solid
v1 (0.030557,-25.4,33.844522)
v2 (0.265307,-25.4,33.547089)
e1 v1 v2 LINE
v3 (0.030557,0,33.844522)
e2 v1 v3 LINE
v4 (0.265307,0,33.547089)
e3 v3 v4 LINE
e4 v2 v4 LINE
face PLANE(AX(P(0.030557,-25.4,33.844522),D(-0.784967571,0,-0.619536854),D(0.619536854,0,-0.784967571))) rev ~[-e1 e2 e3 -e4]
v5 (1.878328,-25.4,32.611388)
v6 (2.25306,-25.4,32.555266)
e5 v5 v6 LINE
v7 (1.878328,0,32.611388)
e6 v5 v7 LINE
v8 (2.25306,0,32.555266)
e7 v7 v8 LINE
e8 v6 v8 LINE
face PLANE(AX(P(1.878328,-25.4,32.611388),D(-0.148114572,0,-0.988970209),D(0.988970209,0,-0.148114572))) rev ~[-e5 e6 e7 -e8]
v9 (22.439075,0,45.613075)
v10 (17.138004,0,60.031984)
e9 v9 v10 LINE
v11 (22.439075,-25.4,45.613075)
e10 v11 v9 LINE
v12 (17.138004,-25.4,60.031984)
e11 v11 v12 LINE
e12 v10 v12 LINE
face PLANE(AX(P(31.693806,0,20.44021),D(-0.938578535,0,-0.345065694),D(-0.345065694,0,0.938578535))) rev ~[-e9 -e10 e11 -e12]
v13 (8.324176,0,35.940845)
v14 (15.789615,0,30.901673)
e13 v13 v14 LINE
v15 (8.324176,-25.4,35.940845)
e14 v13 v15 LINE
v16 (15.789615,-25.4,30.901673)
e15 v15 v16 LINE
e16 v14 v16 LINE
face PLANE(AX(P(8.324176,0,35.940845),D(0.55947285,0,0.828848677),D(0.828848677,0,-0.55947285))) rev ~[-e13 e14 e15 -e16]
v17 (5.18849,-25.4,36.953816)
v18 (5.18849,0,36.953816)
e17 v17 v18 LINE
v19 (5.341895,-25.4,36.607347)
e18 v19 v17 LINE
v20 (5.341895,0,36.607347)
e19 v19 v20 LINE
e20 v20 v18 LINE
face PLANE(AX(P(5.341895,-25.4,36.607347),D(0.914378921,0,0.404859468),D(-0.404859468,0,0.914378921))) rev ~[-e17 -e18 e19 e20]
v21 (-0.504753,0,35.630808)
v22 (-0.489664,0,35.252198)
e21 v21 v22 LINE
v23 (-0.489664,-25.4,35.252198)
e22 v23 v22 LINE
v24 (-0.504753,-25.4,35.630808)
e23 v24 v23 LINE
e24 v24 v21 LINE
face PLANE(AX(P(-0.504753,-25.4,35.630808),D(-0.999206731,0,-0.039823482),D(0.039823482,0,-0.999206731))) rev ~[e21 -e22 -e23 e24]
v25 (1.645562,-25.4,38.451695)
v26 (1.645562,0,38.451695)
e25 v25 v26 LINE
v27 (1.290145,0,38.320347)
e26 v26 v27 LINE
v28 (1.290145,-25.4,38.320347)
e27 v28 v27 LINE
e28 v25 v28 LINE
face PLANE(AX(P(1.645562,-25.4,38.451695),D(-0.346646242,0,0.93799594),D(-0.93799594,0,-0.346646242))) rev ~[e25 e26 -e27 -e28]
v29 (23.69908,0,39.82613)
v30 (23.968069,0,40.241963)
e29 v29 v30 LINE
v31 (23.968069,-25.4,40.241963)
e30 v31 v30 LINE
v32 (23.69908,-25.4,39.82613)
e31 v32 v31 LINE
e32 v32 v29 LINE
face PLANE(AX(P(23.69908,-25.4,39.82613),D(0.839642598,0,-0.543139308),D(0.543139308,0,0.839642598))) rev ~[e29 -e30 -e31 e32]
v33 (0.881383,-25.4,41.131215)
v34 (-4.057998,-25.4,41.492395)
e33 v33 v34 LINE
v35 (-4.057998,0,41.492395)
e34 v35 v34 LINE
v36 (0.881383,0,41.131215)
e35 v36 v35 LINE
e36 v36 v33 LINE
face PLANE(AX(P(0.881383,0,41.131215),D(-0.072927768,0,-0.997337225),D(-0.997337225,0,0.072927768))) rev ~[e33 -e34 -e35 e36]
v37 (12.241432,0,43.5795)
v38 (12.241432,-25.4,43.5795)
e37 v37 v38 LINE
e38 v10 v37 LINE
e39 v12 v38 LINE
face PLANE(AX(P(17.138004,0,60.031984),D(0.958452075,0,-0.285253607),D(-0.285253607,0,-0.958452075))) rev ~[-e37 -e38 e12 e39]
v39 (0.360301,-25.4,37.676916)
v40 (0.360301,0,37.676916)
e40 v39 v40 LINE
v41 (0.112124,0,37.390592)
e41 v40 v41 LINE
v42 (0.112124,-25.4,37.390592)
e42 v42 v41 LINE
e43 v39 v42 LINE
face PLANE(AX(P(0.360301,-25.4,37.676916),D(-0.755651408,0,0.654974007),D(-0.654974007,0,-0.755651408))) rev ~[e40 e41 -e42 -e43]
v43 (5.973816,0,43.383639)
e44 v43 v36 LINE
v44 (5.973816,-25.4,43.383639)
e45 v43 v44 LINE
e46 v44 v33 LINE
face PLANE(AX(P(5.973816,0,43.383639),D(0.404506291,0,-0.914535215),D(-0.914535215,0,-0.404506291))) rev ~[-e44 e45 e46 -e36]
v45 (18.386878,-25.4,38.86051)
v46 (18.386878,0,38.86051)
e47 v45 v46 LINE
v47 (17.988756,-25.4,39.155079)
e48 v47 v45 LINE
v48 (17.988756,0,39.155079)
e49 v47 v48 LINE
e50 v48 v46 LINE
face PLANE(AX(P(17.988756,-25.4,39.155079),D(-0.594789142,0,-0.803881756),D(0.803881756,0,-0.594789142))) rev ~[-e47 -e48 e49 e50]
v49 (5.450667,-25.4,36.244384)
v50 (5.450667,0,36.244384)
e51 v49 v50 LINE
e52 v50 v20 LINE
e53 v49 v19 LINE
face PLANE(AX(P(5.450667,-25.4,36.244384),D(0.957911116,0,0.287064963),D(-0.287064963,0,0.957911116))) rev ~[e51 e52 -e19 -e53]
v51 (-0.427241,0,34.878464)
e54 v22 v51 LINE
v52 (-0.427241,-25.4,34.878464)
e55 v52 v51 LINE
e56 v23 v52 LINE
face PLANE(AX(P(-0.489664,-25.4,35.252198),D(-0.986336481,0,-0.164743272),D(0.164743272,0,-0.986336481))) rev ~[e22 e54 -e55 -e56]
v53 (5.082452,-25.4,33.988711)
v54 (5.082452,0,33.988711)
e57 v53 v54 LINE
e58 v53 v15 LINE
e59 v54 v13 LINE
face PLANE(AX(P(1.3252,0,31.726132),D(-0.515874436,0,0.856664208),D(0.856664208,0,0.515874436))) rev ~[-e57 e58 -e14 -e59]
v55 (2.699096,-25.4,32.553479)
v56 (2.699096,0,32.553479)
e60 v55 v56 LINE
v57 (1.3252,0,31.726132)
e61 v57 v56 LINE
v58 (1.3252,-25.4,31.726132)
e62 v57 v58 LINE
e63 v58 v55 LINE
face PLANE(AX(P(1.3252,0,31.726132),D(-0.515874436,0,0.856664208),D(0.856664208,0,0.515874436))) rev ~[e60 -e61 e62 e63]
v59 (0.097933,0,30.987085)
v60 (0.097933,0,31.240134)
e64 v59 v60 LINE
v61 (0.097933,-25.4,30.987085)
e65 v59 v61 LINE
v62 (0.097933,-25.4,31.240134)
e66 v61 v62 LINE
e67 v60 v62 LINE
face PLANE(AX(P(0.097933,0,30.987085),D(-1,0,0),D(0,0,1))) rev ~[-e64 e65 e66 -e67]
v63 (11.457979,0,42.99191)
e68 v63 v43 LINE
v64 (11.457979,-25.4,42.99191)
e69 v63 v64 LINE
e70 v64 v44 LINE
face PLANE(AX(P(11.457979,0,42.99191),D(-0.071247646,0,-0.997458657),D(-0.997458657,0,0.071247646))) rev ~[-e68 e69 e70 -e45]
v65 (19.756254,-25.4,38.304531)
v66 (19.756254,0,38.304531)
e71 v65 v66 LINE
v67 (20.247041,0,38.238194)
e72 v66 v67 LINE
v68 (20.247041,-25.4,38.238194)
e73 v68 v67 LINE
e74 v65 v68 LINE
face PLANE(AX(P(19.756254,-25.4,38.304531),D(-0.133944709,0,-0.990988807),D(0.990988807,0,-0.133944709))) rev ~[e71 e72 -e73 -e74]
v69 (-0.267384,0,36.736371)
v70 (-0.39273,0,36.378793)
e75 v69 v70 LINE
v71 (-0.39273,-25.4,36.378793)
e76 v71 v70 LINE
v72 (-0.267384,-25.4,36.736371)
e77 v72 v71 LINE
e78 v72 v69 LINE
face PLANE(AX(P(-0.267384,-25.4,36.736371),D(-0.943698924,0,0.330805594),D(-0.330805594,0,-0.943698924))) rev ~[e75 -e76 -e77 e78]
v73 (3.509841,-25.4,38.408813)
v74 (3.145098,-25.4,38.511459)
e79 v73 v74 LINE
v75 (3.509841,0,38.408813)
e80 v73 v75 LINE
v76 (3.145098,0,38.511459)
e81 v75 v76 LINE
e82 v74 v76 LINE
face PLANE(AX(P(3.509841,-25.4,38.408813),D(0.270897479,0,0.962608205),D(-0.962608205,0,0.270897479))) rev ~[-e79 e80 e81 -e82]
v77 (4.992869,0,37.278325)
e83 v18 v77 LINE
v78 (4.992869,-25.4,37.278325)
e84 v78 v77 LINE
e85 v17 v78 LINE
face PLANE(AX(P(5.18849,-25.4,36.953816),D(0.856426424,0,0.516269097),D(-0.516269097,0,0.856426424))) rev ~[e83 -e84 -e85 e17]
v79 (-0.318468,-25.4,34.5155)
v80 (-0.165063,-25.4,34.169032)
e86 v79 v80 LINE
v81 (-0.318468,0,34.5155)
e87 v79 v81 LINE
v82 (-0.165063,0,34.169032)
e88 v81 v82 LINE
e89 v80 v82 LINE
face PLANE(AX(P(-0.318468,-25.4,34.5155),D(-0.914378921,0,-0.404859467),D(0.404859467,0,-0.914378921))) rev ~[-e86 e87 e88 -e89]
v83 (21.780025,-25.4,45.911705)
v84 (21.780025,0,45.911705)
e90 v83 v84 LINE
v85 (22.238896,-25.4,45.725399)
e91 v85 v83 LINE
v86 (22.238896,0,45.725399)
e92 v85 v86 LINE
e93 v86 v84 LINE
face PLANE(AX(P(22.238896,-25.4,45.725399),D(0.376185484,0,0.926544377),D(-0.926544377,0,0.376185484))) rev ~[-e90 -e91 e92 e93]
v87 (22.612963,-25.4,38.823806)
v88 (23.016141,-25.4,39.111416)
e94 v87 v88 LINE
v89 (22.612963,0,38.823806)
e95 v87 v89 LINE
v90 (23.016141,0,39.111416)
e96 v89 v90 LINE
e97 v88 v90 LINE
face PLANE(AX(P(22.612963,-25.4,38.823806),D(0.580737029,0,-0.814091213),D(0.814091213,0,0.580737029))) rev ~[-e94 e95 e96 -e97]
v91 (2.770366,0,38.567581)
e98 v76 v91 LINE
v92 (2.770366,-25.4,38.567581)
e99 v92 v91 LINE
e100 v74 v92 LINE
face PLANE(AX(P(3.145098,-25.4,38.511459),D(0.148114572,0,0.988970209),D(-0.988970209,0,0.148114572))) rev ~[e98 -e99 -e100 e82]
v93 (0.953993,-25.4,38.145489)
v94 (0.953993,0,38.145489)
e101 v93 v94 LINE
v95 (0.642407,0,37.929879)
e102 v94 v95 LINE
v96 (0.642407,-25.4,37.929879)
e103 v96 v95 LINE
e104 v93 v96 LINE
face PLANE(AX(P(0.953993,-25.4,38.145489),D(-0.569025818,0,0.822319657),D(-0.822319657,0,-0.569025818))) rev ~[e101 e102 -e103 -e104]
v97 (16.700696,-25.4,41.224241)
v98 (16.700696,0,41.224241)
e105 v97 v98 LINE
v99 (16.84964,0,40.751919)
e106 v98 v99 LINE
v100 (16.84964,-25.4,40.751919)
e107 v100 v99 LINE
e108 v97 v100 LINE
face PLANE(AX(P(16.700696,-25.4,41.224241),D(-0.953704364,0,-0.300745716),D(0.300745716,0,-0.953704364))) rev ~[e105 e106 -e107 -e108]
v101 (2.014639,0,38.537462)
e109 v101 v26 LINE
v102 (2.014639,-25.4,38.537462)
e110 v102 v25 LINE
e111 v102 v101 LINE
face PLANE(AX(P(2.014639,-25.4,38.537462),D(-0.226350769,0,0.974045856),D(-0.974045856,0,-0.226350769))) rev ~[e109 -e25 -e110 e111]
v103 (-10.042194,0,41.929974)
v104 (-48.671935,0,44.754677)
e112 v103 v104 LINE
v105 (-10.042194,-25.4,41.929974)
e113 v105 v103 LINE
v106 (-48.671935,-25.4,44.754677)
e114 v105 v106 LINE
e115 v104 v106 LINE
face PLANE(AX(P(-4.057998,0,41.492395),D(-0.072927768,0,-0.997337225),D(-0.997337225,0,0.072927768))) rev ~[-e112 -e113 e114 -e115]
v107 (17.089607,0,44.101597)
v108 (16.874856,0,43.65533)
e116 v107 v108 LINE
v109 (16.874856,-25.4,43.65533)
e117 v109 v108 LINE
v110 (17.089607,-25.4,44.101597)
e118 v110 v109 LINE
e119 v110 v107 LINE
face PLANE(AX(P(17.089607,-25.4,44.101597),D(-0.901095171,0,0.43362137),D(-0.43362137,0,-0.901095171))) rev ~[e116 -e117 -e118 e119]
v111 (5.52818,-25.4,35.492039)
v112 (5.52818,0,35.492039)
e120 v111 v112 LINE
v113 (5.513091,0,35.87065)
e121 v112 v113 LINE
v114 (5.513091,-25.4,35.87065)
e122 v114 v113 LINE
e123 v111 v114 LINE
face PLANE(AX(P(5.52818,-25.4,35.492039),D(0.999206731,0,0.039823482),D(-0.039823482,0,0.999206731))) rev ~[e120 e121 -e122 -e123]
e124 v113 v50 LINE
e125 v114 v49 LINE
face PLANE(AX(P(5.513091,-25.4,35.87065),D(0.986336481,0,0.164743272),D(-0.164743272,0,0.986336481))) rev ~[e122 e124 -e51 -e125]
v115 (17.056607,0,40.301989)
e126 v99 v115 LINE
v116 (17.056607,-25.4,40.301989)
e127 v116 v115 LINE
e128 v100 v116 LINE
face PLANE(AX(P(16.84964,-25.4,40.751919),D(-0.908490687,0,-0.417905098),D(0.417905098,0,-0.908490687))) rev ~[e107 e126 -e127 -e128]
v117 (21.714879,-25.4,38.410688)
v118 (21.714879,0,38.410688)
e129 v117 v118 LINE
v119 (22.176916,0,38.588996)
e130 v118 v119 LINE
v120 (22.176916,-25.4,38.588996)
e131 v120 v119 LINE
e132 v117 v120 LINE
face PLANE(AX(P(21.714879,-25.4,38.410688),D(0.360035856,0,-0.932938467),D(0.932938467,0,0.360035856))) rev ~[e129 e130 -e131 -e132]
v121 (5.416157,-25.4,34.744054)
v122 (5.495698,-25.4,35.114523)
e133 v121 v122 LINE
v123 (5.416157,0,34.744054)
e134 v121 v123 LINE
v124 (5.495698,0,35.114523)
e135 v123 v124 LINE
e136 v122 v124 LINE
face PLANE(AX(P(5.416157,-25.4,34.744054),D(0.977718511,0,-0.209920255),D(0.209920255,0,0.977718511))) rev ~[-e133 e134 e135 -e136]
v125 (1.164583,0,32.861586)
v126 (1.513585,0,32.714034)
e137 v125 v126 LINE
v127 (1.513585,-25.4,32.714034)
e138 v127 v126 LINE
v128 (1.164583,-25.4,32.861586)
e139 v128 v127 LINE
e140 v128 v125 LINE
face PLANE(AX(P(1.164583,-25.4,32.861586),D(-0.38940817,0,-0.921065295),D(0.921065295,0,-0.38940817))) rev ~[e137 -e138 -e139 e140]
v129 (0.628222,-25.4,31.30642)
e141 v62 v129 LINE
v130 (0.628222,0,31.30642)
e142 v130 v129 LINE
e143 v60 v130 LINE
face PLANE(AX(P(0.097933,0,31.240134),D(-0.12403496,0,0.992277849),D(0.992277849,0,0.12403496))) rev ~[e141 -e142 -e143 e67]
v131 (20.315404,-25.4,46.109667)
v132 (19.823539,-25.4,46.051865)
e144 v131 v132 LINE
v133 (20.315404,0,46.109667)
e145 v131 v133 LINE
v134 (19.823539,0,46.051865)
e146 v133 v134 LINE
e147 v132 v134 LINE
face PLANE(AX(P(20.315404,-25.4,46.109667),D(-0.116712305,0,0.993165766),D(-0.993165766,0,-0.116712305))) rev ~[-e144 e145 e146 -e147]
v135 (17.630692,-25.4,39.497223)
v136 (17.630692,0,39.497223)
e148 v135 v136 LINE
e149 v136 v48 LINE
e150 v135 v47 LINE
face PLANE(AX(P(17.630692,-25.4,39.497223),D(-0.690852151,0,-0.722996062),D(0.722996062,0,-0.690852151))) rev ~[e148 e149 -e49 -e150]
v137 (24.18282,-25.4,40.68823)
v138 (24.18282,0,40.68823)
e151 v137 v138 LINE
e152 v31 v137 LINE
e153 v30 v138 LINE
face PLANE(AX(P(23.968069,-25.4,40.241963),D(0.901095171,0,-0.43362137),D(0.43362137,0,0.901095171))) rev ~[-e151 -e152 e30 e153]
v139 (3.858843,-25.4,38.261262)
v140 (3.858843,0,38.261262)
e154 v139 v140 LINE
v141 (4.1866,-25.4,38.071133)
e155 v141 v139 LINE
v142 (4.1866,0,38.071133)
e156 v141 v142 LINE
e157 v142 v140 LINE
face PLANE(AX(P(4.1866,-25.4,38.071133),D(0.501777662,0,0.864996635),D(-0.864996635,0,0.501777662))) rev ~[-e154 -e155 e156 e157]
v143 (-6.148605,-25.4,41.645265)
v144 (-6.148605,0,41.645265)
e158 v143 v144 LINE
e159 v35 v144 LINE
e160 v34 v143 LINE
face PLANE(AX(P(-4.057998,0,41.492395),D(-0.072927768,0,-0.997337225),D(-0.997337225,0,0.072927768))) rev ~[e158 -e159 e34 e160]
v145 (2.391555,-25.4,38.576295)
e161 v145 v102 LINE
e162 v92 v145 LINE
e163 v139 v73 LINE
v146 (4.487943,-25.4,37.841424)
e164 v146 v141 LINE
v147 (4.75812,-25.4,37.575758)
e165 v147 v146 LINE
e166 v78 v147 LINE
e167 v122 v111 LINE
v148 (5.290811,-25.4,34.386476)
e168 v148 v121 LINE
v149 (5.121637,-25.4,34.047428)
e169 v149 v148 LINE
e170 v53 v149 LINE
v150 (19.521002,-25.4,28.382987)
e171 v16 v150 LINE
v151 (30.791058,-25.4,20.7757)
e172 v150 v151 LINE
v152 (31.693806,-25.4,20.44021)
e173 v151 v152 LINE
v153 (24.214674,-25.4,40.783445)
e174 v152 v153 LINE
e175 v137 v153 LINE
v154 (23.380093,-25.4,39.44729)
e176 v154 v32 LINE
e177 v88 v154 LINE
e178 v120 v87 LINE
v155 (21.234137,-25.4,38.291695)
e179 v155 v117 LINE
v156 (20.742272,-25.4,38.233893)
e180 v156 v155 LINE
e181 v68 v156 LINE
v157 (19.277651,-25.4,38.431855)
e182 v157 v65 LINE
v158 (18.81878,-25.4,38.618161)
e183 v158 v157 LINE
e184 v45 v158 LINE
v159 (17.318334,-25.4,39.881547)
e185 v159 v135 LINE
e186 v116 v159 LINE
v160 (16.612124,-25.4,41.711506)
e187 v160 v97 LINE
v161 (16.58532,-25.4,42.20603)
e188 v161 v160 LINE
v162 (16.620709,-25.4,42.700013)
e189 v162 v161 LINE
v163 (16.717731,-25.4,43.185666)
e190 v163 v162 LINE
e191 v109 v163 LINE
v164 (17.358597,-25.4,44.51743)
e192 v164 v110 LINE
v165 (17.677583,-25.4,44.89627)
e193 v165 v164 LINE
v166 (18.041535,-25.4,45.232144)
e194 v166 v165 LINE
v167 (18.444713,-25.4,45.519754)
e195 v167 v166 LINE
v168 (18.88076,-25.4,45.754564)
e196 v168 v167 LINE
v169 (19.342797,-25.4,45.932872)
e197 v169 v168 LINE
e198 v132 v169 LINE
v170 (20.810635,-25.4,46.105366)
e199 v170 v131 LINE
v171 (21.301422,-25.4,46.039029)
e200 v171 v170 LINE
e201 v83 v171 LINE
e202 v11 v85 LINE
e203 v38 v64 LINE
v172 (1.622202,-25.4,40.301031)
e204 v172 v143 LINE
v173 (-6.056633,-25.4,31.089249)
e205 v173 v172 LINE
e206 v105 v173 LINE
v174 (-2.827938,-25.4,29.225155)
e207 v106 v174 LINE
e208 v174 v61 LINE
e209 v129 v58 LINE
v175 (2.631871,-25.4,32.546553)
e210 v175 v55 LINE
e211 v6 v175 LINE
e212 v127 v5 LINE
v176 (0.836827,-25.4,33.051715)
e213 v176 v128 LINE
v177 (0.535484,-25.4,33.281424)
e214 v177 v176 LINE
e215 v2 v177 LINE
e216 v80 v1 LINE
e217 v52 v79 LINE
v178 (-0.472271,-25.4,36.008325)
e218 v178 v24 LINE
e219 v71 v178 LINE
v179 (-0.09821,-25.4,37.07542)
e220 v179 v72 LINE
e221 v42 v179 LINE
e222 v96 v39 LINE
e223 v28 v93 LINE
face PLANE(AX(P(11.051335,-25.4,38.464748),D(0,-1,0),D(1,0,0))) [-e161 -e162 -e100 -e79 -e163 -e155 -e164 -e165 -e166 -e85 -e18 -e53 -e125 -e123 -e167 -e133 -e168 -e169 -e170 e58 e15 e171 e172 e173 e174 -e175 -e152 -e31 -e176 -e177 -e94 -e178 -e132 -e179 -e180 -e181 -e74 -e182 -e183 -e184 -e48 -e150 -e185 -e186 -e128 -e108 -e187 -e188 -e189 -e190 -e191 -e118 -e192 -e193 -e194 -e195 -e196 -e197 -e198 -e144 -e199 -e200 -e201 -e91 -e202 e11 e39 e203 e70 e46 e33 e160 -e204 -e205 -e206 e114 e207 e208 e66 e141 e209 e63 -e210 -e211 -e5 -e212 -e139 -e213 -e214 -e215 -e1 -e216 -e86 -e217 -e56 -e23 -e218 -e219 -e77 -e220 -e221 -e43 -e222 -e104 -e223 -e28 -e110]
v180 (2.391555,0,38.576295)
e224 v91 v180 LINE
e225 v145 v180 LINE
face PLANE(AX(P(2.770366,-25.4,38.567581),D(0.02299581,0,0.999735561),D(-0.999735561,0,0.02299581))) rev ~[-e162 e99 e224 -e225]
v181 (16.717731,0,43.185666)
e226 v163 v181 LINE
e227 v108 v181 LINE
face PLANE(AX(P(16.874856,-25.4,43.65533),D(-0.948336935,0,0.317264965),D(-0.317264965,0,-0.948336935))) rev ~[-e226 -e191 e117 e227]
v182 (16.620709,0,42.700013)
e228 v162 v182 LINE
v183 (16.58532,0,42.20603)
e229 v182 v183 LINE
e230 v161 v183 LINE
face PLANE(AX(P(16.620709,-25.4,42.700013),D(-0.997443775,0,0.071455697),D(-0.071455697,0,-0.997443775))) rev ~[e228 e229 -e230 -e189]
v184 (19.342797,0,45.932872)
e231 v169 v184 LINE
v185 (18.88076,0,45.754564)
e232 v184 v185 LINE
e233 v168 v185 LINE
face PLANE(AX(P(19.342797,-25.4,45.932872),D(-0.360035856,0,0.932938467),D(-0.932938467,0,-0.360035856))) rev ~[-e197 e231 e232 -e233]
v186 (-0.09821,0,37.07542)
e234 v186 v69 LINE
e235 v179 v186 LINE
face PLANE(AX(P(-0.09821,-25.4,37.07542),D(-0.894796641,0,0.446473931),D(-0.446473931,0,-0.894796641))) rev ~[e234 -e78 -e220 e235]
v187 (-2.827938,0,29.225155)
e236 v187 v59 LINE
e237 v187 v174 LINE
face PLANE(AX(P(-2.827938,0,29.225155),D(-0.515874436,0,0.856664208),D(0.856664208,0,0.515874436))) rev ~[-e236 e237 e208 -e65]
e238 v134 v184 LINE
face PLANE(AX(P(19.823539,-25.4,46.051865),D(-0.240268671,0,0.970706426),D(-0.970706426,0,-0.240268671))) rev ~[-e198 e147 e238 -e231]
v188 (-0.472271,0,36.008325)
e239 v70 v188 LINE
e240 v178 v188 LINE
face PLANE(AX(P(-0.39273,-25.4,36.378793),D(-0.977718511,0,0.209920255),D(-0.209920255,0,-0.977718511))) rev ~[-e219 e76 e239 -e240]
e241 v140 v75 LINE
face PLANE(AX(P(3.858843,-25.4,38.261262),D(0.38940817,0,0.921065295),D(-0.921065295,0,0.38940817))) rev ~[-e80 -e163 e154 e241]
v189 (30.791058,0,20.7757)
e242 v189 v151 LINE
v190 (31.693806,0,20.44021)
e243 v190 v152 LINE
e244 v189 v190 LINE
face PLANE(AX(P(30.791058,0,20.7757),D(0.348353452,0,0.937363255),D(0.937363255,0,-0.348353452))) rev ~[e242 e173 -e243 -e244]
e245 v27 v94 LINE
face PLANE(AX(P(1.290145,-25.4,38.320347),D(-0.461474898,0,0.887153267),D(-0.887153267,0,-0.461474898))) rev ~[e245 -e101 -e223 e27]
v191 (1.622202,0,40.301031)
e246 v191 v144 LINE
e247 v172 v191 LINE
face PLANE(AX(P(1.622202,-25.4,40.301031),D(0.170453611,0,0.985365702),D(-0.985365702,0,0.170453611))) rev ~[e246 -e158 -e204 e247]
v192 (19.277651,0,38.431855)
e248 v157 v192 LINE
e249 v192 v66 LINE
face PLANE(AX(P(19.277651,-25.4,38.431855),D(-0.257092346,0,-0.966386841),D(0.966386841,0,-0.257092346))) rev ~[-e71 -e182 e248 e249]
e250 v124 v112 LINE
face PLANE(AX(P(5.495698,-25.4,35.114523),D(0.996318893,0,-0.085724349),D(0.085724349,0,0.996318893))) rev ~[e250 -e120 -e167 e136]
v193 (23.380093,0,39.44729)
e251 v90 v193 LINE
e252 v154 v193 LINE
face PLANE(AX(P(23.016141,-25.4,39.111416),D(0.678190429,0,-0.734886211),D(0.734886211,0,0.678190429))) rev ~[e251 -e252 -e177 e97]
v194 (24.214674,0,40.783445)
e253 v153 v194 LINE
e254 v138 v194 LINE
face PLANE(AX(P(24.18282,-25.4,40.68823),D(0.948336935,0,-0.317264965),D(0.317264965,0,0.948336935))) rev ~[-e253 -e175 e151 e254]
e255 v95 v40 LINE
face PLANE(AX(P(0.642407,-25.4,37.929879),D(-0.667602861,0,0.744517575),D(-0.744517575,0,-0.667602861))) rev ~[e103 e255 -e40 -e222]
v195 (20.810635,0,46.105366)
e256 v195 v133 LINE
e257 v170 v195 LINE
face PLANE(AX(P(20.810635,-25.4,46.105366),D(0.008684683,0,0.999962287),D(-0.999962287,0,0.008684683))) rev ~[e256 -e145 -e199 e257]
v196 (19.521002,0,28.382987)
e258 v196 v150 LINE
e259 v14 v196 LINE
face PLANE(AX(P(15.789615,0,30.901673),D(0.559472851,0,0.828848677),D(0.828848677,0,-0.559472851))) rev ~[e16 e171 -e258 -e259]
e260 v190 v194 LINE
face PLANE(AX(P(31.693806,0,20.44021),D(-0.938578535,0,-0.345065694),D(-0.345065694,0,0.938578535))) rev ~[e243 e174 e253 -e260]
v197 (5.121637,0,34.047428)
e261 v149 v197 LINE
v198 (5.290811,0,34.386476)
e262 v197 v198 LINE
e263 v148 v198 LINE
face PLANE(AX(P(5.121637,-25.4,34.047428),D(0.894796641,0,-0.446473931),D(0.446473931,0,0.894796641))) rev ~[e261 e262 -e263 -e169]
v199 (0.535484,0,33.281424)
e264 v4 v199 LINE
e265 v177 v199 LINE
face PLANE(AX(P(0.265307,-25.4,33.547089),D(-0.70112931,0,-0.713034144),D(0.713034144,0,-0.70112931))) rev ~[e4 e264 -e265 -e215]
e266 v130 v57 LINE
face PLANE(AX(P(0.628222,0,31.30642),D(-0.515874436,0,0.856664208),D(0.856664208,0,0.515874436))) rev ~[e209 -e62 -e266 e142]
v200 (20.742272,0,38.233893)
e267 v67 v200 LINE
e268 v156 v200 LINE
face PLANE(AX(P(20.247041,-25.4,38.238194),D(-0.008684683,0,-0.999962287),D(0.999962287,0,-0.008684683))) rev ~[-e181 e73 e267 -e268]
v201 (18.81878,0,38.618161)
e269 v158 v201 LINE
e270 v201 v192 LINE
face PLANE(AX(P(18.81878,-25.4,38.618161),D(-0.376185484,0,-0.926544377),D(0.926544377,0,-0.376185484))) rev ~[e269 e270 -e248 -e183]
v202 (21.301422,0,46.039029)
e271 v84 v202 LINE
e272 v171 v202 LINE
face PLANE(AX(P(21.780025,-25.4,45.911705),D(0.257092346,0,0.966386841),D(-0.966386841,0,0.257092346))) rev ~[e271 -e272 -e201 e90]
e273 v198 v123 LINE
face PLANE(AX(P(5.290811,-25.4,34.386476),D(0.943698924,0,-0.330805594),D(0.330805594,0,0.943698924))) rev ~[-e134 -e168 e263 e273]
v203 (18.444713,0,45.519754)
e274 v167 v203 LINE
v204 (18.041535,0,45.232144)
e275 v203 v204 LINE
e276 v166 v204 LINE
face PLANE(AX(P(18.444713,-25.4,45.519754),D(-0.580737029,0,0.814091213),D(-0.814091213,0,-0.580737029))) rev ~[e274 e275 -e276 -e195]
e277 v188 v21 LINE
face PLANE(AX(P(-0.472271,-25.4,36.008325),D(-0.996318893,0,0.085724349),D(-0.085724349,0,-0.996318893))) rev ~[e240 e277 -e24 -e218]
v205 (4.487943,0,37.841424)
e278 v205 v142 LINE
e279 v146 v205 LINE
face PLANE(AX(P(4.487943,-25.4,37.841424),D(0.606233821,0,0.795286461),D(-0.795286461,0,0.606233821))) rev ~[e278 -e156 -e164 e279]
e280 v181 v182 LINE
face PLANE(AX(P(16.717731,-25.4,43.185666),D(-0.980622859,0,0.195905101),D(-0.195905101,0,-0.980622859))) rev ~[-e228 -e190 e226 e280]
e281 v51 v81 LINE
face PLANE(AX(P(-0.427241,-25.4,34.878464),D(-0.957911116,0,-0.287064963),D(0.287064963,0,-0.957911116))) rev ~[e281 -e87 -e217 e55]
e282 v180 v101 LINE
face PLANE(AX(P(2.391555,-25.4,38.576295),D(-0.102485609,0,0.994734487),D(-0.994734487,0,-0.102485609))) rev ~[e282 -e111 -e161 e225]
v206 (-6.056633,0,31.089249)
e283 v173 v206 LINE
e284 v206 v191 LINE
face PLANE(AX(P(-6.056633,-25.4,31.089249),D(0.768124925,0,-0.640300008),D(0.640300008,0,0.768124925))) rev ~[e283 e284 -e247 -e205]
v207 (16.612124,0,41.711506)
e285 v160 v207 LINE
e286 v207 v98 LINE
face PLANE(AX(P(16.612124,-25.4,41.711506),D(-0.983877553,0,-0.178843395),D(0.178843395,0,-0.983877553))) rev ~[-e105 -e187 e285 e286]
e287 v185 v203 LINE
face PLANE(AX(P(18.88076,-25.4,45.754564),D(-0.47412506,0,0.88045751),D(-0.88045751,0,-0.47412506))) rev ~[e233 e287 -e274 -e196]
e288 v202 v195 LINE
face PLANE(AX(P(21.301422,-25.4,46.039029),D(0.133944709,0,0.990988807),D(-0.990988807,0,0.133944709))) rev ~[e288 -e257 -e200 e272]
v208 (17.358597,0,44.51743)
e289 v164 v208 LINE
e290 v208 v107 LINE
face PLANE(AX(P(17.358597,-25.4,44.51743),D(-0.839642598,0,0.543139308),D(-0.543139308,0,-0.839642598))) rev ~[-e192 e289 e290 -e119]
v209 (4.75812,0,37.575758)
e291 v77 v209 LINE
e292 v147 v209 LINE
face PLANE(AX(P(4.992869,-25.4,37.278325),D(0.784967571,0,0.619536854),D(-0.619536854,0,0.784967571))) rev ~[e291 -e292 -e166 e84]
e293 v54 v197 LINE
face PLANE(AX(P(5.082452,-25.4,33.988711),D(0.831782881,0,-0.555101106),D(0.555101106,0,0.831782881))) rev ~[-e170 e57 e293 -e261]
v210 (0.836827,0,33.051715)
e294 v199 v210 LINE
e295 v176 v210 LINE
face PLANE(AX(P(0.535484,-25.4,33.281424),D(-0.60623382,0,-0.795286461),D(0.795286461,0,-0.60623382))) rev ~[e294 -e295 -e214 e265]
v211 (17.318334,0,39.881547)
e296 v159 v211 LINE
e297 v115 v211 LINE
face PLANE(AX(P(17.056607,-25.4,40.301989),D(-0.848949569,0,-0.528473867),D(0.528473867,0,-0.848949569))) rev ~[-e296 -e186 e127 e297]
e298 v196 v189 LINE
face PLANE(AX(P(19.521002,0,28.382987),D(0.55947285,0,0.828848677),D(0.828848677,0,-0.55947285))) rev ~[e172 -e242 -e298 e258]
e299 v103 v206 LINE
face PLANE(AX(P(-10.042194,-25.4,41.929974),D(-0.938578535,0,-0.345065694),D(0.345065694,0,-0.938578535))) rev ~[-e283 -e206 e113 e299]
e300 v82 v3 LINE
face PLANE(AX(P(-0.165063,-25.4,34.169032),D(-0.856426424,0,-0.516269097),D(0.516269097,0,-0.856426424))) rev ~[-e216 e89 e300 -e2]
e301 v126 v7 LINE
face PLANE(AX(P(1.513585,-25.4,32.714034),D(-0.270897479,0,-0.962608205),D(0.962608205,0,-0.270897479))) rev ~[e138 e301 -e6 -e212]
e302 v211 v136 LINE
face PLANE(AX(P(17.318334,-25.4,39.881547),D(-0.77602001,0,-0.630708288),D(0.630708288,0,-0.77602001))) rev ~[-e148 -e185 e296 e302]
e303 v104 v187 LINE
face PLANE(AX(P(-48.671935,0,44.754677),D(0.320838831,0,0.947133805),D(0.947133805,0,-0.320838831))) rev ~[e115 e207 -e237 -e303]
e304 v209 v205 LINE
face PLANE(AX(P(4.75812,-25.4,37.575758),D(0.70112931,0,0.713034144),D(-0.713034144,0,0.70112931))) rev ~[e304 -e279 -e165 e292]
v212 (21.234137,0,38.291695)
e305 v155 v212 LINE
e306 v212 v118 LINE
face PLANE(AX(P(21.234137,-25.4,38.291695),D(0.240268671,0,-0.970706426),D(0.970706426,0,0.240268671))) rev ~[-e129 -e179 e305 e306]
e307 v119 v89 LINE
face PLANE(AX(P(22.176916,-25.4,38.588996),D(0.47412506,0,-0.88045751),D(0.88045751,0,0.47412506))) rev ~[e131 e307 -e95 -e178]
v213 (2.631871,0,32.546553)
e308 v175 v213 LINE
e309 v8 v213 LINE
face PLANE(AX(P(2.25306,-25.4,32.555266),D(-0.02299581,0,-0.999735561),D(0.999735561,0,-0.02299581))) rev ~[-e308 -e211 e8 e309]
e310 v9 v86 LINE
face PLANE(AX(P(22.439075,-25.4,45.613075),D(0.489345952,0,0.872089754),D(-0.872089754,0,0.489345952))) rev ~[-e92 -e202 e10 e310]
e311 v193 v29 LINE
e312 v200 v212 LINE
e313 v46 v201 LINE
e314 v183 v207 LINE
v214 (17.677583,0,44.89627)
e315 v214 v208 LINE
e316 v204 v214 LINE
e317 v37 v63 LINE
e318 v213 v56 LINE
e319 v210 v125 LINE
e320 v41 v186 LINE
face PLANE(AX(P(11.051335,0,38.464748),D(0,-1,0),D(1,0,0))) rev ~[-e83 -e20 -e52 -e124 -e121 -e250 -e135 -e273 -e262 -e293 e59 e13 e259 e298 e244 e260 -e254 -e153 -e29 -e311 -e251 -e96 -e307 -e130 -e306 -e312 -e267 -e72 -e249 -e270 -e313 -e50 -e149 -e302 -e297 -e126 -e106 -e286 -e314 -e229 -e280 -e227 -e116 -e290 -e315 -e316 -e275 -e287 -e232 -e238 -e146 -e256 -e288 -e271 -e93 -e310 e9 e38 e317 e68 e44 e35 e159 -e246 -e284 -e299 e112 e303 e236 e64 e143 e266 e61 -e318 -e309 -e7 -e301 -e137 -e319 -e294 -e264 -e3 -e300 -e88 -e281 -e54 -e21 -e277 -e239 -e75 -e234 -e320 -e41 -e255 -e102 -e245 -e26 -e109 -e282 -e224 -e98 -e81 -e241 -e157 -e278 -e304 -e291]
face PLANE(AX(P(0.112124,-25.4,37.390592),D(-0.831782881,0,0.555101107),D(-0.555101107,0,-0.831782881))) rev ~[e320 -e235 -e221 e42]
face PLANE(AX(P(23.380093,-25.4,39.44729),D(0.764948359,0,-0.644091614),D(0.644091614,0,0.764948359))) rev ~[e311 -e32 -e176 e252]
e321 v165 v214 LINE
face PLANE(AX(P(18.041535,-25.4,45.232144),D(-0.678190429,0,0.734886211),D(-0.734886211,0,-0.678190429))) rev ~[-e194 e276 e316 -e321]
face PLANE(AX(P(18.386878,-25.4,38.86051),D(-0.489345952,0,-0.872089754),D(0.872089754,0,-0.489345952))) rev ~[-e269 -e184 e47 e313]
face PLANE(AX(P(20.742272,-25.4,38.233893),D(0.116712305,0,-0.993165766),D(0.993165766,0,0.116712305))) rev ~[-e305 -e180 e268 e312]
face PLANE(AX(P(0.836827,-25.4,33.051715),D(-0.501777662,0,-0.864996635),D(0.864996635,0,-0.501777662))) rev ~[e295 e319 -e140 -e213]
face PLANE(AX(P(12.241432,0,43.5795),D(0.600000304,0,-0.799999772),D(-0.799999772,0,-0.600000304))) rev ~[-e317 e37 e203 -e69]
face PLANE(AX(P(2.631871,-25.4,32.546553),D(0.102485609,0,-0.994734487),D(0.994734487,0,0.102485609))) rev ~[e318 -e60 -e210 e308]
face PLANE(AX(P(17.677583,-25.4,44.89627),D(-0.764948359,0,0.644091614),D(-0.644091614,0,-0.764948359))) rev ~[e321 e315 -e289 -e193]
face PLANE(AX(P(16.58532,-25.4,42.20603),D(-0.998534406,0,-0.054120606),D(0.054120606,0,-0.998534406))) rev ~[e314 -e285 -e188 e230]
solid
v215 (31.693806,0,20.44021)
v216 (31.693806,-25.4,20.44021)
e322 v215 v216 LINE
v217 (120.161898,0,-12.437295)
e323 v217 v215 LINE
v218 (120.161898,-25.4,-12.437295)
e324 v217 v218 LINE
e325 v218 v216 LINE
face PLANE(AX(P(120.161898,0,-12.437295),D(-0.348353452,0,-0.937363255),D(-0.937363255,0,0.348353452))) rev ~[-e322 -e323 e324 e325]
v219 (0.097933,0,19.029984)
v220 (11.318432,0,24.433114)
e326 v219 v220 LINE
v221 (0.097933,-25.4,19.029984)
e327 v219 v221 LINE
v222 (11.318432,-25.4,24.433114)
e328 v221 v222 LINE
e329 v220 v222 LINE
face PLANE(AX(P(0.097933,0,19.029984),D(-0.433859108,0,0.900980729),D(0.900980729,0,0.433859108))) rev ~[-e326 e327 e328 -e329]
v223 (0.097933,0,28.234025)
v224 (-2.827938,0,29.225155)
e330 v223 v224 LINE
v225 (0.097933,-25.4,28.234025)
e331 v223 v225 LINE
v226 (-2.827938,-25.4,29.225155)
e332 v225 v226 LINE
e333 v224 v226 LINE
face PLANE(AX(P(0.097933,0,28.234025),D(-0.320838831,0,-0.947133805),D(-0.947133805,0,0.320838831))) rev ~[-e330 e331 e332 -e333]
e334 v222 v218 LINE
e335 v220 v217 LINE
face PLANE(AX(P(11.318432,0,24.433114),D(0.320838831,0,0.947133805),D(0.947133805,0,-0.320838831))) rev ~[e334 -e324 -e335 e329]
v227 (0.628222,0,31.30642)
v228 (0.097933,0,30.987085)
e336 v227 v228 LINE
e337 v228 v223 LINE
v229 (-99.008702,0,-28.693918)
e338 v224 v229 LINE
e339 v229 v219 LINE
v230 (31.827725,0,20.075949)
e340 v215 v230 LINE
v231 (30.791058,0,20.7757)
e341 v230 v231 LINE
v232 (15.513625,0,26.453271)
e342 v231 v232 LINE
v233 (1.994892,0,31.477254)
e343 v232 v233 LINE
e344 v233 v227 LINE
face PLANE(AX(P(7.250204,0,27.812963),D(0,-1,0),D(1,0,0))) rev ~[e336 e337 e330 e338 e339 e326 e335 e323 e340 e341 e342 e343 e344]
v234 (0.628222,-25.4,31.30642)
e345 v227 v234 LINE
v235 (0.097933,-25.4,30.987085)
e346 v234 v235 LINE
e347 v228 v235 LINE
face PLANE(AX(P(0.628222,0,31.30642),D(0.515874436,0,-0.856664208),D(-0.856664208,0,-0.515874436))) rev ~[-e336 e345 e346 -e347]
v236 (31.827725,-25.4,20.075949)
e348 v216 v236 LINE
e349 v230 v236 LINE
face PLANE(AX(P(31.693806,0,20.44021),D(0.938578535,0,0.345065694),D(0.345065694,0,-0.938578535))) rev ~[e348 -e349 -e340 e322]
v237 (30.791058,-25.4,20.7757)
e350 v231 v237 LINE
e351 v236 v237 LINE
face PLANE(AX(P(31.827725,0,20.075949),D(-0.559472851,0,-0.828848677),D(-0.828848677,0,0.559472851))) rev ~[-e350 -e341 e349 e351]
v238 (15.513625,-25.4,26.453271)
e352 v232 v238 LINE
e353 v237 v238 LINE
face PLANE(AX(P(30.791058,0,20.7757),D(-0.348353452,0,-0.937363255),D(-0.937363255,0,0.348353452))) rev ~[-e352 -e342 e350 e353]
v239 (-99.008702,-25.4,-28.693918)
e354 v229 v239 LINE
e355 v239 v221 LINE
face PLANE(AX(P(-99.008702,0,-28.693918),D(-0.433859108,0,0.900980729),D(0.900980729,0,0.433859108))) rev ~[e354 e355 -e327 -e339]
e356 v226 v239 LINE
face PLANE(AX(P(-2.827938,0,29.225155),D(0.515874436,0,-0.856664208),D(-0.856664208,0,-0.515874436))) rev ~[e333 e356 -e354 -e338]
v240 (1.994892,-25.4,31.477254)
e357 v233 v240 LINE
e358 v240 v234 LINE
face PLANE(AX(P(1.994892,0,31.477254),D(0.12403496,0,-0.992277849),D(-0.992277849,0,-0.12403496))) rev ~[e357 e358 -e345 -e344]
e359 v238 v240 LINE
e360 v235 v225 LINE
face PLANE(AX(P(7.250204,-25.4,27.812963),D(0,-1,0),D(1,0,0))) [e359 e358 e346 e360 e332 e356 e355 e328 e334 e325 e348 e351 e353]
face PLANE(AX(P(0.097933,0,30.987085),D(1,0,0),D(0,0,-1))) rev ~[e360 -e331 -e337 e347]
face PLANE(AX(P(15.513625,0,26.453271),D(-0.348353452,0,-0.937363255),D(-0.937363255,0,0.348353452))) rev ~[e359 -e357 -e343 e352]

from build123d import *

# Parameters (mm, degrees)
F1_DEPTH = 25.4
F3_DEPTH = 25.4


with BuildPart() as f1:
    # F0 (on Front) → F1 (new body)
    with BuildSketch(Plane.XZ):
        Polygon((0.0979326942, 30.9870848271), (0.0979326942, 28.2340252644), (11.3184319648, 24.433113655), (15.5136247142, 26.4532707196), (1.9948919278, 31.4772539108), (0.6282224689, 31.3064199129), align=None)
        Polygon((0.0979326942, 28.2340252644), (0.0979326942, 19.0299838766), (11.3184319648, 24.433113655), align=None)
        Polygon((15.5136247142, 26.4532707196), (11.3184319648, 24.433113655), (120.1618984342, -12.4372951686), (31.6938058464, 20.4402102262), (31.8277254701, 20.0759489089), (30.7910577728, 20.7756995964), align=None)
        Polygon((-99.0087017417, -28.6939181387), (0.0979326942, 19.0299838766), (0.0979326942, 28.2340252644), (-2.8279378914, 29.2251554457), align=None)
    extrude(amount=F1_DEPTH)


with BuildPart() as f1b:
    # F0 (on Front) → F1, piece 2 (new body)
    with BuildSketch(Plane.XZ):
        Polygon((15.7896154423, 30.9016730506), (19.5210021768, 28.3829870343), (30.7910577728, 20.7756995964), (31.6938058464, 20.4402102262), (17.138004303, 60.0319840014), (12.2414315119, 43.5795001686), (11.4579787478, 42.9919101298), (5.9738163836, 43.3836393058), (0.8813833701, 41.13121517), (-4.0579978236, 41.4923949564), (-17.9214570671, 38.8787910342), (1.3251996688, 31.7261324637), (8.3241760731, 35.9408445656), align=None)
        Polygon((-2.8279378914, 29.2251554457), (0.0979326942, 30.9870848271), (0.0979326942, 31.2401335686), (0.6282224689, 31.3064199129), (1.3251996688, 31.7261324637), (-17.9214570671, 38.8787910342), (-4.0579978236, 41.4923949564), (-48.6719347537, 44.7546765208), align=None)
    extrude(amount=F1_DEPTH)

    # F2 (on face) → F3 (cut)
    with BuildSketch(Plane.XZ.offset(25.4)):
        Polygon((2.6318714004, 32.5465527118), (2.6990958674, 32.5534787212), (5.082451947, 33.9887114084), (5.1216370942, 34.0474278013), (5.2908110742, 34.3864762848), (5.4161570241, 34.7440543918), (5.4956981633, 35.1145229018), (5.5281800805, 35.4920393051), (5.5130905166, 35.8706499426), (5.450667443, 36.2443838982), (5.3418953088, 36.6073471643), (5.1884895155, 36.9538155933), (4.9928693642, 37.2783251712), (4.7581199015, 37.575758188), (4.4879432667, 37.8414239474), (4.1866003067, 38.0711327417), (3.8588433799, 38.2612619259), (3.509841409, 38.4088130493), (3.1450983634, 38.5114591424), (2.7703664589, 38.5675814151), (2.3915554415, 38.5762947856), (2.0146393873, 38.5374618389), (1.6455624874, 38.4516949937), (1.2901453052, 38.3203468444), (0.953992982, 38.1454888298), (0.6424068405, 37.9298785652), (0.3603007806, 37.6769163533), (0.1121237831, 37.3905915593), (-0.0982102523, 37.0754196962), (-0.2673842323, 36.7363712126), (-0.3927301821, 36.3787931057), (-0.4722713213, 36.0083245957), (-0.5047532386, 35.6308081924), (-0.4896636747, 35.2521975549), (-0.427240601, 34.8784635993), (-0.3184684668, 34.5155003332), (-0.1650626736, 34.1690319041), (0.0305574777, 33.8445223262), (0.2653069404, 33.5470893094), (0.5354835752, 33.28142355), (0.8368265353, 33.0517147558), (1.164583462, 32.8615855716), (1.513585433, 32.7140344482), (1.8783284785, 32.6113883551), (2.253060383, 32.5552660823), align=None)
        Polygon((24.2146741399, 40.7834451677), (22.439074716, 45.6130748171), (22.2388960862, 45.7253988086), (21.7800252341, 45.9117045677), (21.3014224125, 46.0390294826), (20.8106354738, 46.1053655633), (20.3154044212, 46.1096666502), (19.8235393443, 46.0518649125), (19.3427972491, 45.9328719182), (18.8807597256, 45.754564258), (18.4447133817, 45.51975395), (18.0415349285, 45.2321440932), (17.6775827313, 44.8962704668), (17.3585965335, 44.5174299985), (17.0896069381, 44.1015972288), (16.8748560716, 43.6553300889), (16.7177306835, 43.1856664782), (16.620708735, 42.7000132724), (16.5853203203, 42.2060295126), (16.6121235357, 41.7115056179), (16.7006956786, 41.2242405255), (16.8496399133, 40.7519186969), (17.0566073002, 40.3019889296), (17.3183338402, 39.8815468847), (17.6306919492, 39.4972231845), (17.9887555533, 39.1550788433), (18.3868777755, 38.8605096817), (18.8187799907, 38.6181612314), (19.2776508428, 38.4318554723), (19.7562536644, 38.3045305574), (20.2470406031, 38.2381944767), (20.7422716557, 38.2338933898), (21.2341367326, 38.2916951275), (21.7148788278, 38.4106881218), (22.1769163513, 38.588995782), (22.6129626952, 38.82380609), (23.0161411484, 39.1114159468), (23.3800933456, 39.4472895732), (23.6990795434, 39.8261300415), (23.9680691388, 40.2419628112), (24.1828200053, 40.6882299511), align=None)
        Polygon((-10.0421942622, 41.9299742211), (-6.0566326975, 31.0892485241), (1.6222022931, 40.3010312417), (-6.1486050589, 41.6452653353), align=None)
    extrude(amount=-F3_DEPTH, mode=Mode.SUBTRACT)


solid = Compound([f1.part, f1b.part])
